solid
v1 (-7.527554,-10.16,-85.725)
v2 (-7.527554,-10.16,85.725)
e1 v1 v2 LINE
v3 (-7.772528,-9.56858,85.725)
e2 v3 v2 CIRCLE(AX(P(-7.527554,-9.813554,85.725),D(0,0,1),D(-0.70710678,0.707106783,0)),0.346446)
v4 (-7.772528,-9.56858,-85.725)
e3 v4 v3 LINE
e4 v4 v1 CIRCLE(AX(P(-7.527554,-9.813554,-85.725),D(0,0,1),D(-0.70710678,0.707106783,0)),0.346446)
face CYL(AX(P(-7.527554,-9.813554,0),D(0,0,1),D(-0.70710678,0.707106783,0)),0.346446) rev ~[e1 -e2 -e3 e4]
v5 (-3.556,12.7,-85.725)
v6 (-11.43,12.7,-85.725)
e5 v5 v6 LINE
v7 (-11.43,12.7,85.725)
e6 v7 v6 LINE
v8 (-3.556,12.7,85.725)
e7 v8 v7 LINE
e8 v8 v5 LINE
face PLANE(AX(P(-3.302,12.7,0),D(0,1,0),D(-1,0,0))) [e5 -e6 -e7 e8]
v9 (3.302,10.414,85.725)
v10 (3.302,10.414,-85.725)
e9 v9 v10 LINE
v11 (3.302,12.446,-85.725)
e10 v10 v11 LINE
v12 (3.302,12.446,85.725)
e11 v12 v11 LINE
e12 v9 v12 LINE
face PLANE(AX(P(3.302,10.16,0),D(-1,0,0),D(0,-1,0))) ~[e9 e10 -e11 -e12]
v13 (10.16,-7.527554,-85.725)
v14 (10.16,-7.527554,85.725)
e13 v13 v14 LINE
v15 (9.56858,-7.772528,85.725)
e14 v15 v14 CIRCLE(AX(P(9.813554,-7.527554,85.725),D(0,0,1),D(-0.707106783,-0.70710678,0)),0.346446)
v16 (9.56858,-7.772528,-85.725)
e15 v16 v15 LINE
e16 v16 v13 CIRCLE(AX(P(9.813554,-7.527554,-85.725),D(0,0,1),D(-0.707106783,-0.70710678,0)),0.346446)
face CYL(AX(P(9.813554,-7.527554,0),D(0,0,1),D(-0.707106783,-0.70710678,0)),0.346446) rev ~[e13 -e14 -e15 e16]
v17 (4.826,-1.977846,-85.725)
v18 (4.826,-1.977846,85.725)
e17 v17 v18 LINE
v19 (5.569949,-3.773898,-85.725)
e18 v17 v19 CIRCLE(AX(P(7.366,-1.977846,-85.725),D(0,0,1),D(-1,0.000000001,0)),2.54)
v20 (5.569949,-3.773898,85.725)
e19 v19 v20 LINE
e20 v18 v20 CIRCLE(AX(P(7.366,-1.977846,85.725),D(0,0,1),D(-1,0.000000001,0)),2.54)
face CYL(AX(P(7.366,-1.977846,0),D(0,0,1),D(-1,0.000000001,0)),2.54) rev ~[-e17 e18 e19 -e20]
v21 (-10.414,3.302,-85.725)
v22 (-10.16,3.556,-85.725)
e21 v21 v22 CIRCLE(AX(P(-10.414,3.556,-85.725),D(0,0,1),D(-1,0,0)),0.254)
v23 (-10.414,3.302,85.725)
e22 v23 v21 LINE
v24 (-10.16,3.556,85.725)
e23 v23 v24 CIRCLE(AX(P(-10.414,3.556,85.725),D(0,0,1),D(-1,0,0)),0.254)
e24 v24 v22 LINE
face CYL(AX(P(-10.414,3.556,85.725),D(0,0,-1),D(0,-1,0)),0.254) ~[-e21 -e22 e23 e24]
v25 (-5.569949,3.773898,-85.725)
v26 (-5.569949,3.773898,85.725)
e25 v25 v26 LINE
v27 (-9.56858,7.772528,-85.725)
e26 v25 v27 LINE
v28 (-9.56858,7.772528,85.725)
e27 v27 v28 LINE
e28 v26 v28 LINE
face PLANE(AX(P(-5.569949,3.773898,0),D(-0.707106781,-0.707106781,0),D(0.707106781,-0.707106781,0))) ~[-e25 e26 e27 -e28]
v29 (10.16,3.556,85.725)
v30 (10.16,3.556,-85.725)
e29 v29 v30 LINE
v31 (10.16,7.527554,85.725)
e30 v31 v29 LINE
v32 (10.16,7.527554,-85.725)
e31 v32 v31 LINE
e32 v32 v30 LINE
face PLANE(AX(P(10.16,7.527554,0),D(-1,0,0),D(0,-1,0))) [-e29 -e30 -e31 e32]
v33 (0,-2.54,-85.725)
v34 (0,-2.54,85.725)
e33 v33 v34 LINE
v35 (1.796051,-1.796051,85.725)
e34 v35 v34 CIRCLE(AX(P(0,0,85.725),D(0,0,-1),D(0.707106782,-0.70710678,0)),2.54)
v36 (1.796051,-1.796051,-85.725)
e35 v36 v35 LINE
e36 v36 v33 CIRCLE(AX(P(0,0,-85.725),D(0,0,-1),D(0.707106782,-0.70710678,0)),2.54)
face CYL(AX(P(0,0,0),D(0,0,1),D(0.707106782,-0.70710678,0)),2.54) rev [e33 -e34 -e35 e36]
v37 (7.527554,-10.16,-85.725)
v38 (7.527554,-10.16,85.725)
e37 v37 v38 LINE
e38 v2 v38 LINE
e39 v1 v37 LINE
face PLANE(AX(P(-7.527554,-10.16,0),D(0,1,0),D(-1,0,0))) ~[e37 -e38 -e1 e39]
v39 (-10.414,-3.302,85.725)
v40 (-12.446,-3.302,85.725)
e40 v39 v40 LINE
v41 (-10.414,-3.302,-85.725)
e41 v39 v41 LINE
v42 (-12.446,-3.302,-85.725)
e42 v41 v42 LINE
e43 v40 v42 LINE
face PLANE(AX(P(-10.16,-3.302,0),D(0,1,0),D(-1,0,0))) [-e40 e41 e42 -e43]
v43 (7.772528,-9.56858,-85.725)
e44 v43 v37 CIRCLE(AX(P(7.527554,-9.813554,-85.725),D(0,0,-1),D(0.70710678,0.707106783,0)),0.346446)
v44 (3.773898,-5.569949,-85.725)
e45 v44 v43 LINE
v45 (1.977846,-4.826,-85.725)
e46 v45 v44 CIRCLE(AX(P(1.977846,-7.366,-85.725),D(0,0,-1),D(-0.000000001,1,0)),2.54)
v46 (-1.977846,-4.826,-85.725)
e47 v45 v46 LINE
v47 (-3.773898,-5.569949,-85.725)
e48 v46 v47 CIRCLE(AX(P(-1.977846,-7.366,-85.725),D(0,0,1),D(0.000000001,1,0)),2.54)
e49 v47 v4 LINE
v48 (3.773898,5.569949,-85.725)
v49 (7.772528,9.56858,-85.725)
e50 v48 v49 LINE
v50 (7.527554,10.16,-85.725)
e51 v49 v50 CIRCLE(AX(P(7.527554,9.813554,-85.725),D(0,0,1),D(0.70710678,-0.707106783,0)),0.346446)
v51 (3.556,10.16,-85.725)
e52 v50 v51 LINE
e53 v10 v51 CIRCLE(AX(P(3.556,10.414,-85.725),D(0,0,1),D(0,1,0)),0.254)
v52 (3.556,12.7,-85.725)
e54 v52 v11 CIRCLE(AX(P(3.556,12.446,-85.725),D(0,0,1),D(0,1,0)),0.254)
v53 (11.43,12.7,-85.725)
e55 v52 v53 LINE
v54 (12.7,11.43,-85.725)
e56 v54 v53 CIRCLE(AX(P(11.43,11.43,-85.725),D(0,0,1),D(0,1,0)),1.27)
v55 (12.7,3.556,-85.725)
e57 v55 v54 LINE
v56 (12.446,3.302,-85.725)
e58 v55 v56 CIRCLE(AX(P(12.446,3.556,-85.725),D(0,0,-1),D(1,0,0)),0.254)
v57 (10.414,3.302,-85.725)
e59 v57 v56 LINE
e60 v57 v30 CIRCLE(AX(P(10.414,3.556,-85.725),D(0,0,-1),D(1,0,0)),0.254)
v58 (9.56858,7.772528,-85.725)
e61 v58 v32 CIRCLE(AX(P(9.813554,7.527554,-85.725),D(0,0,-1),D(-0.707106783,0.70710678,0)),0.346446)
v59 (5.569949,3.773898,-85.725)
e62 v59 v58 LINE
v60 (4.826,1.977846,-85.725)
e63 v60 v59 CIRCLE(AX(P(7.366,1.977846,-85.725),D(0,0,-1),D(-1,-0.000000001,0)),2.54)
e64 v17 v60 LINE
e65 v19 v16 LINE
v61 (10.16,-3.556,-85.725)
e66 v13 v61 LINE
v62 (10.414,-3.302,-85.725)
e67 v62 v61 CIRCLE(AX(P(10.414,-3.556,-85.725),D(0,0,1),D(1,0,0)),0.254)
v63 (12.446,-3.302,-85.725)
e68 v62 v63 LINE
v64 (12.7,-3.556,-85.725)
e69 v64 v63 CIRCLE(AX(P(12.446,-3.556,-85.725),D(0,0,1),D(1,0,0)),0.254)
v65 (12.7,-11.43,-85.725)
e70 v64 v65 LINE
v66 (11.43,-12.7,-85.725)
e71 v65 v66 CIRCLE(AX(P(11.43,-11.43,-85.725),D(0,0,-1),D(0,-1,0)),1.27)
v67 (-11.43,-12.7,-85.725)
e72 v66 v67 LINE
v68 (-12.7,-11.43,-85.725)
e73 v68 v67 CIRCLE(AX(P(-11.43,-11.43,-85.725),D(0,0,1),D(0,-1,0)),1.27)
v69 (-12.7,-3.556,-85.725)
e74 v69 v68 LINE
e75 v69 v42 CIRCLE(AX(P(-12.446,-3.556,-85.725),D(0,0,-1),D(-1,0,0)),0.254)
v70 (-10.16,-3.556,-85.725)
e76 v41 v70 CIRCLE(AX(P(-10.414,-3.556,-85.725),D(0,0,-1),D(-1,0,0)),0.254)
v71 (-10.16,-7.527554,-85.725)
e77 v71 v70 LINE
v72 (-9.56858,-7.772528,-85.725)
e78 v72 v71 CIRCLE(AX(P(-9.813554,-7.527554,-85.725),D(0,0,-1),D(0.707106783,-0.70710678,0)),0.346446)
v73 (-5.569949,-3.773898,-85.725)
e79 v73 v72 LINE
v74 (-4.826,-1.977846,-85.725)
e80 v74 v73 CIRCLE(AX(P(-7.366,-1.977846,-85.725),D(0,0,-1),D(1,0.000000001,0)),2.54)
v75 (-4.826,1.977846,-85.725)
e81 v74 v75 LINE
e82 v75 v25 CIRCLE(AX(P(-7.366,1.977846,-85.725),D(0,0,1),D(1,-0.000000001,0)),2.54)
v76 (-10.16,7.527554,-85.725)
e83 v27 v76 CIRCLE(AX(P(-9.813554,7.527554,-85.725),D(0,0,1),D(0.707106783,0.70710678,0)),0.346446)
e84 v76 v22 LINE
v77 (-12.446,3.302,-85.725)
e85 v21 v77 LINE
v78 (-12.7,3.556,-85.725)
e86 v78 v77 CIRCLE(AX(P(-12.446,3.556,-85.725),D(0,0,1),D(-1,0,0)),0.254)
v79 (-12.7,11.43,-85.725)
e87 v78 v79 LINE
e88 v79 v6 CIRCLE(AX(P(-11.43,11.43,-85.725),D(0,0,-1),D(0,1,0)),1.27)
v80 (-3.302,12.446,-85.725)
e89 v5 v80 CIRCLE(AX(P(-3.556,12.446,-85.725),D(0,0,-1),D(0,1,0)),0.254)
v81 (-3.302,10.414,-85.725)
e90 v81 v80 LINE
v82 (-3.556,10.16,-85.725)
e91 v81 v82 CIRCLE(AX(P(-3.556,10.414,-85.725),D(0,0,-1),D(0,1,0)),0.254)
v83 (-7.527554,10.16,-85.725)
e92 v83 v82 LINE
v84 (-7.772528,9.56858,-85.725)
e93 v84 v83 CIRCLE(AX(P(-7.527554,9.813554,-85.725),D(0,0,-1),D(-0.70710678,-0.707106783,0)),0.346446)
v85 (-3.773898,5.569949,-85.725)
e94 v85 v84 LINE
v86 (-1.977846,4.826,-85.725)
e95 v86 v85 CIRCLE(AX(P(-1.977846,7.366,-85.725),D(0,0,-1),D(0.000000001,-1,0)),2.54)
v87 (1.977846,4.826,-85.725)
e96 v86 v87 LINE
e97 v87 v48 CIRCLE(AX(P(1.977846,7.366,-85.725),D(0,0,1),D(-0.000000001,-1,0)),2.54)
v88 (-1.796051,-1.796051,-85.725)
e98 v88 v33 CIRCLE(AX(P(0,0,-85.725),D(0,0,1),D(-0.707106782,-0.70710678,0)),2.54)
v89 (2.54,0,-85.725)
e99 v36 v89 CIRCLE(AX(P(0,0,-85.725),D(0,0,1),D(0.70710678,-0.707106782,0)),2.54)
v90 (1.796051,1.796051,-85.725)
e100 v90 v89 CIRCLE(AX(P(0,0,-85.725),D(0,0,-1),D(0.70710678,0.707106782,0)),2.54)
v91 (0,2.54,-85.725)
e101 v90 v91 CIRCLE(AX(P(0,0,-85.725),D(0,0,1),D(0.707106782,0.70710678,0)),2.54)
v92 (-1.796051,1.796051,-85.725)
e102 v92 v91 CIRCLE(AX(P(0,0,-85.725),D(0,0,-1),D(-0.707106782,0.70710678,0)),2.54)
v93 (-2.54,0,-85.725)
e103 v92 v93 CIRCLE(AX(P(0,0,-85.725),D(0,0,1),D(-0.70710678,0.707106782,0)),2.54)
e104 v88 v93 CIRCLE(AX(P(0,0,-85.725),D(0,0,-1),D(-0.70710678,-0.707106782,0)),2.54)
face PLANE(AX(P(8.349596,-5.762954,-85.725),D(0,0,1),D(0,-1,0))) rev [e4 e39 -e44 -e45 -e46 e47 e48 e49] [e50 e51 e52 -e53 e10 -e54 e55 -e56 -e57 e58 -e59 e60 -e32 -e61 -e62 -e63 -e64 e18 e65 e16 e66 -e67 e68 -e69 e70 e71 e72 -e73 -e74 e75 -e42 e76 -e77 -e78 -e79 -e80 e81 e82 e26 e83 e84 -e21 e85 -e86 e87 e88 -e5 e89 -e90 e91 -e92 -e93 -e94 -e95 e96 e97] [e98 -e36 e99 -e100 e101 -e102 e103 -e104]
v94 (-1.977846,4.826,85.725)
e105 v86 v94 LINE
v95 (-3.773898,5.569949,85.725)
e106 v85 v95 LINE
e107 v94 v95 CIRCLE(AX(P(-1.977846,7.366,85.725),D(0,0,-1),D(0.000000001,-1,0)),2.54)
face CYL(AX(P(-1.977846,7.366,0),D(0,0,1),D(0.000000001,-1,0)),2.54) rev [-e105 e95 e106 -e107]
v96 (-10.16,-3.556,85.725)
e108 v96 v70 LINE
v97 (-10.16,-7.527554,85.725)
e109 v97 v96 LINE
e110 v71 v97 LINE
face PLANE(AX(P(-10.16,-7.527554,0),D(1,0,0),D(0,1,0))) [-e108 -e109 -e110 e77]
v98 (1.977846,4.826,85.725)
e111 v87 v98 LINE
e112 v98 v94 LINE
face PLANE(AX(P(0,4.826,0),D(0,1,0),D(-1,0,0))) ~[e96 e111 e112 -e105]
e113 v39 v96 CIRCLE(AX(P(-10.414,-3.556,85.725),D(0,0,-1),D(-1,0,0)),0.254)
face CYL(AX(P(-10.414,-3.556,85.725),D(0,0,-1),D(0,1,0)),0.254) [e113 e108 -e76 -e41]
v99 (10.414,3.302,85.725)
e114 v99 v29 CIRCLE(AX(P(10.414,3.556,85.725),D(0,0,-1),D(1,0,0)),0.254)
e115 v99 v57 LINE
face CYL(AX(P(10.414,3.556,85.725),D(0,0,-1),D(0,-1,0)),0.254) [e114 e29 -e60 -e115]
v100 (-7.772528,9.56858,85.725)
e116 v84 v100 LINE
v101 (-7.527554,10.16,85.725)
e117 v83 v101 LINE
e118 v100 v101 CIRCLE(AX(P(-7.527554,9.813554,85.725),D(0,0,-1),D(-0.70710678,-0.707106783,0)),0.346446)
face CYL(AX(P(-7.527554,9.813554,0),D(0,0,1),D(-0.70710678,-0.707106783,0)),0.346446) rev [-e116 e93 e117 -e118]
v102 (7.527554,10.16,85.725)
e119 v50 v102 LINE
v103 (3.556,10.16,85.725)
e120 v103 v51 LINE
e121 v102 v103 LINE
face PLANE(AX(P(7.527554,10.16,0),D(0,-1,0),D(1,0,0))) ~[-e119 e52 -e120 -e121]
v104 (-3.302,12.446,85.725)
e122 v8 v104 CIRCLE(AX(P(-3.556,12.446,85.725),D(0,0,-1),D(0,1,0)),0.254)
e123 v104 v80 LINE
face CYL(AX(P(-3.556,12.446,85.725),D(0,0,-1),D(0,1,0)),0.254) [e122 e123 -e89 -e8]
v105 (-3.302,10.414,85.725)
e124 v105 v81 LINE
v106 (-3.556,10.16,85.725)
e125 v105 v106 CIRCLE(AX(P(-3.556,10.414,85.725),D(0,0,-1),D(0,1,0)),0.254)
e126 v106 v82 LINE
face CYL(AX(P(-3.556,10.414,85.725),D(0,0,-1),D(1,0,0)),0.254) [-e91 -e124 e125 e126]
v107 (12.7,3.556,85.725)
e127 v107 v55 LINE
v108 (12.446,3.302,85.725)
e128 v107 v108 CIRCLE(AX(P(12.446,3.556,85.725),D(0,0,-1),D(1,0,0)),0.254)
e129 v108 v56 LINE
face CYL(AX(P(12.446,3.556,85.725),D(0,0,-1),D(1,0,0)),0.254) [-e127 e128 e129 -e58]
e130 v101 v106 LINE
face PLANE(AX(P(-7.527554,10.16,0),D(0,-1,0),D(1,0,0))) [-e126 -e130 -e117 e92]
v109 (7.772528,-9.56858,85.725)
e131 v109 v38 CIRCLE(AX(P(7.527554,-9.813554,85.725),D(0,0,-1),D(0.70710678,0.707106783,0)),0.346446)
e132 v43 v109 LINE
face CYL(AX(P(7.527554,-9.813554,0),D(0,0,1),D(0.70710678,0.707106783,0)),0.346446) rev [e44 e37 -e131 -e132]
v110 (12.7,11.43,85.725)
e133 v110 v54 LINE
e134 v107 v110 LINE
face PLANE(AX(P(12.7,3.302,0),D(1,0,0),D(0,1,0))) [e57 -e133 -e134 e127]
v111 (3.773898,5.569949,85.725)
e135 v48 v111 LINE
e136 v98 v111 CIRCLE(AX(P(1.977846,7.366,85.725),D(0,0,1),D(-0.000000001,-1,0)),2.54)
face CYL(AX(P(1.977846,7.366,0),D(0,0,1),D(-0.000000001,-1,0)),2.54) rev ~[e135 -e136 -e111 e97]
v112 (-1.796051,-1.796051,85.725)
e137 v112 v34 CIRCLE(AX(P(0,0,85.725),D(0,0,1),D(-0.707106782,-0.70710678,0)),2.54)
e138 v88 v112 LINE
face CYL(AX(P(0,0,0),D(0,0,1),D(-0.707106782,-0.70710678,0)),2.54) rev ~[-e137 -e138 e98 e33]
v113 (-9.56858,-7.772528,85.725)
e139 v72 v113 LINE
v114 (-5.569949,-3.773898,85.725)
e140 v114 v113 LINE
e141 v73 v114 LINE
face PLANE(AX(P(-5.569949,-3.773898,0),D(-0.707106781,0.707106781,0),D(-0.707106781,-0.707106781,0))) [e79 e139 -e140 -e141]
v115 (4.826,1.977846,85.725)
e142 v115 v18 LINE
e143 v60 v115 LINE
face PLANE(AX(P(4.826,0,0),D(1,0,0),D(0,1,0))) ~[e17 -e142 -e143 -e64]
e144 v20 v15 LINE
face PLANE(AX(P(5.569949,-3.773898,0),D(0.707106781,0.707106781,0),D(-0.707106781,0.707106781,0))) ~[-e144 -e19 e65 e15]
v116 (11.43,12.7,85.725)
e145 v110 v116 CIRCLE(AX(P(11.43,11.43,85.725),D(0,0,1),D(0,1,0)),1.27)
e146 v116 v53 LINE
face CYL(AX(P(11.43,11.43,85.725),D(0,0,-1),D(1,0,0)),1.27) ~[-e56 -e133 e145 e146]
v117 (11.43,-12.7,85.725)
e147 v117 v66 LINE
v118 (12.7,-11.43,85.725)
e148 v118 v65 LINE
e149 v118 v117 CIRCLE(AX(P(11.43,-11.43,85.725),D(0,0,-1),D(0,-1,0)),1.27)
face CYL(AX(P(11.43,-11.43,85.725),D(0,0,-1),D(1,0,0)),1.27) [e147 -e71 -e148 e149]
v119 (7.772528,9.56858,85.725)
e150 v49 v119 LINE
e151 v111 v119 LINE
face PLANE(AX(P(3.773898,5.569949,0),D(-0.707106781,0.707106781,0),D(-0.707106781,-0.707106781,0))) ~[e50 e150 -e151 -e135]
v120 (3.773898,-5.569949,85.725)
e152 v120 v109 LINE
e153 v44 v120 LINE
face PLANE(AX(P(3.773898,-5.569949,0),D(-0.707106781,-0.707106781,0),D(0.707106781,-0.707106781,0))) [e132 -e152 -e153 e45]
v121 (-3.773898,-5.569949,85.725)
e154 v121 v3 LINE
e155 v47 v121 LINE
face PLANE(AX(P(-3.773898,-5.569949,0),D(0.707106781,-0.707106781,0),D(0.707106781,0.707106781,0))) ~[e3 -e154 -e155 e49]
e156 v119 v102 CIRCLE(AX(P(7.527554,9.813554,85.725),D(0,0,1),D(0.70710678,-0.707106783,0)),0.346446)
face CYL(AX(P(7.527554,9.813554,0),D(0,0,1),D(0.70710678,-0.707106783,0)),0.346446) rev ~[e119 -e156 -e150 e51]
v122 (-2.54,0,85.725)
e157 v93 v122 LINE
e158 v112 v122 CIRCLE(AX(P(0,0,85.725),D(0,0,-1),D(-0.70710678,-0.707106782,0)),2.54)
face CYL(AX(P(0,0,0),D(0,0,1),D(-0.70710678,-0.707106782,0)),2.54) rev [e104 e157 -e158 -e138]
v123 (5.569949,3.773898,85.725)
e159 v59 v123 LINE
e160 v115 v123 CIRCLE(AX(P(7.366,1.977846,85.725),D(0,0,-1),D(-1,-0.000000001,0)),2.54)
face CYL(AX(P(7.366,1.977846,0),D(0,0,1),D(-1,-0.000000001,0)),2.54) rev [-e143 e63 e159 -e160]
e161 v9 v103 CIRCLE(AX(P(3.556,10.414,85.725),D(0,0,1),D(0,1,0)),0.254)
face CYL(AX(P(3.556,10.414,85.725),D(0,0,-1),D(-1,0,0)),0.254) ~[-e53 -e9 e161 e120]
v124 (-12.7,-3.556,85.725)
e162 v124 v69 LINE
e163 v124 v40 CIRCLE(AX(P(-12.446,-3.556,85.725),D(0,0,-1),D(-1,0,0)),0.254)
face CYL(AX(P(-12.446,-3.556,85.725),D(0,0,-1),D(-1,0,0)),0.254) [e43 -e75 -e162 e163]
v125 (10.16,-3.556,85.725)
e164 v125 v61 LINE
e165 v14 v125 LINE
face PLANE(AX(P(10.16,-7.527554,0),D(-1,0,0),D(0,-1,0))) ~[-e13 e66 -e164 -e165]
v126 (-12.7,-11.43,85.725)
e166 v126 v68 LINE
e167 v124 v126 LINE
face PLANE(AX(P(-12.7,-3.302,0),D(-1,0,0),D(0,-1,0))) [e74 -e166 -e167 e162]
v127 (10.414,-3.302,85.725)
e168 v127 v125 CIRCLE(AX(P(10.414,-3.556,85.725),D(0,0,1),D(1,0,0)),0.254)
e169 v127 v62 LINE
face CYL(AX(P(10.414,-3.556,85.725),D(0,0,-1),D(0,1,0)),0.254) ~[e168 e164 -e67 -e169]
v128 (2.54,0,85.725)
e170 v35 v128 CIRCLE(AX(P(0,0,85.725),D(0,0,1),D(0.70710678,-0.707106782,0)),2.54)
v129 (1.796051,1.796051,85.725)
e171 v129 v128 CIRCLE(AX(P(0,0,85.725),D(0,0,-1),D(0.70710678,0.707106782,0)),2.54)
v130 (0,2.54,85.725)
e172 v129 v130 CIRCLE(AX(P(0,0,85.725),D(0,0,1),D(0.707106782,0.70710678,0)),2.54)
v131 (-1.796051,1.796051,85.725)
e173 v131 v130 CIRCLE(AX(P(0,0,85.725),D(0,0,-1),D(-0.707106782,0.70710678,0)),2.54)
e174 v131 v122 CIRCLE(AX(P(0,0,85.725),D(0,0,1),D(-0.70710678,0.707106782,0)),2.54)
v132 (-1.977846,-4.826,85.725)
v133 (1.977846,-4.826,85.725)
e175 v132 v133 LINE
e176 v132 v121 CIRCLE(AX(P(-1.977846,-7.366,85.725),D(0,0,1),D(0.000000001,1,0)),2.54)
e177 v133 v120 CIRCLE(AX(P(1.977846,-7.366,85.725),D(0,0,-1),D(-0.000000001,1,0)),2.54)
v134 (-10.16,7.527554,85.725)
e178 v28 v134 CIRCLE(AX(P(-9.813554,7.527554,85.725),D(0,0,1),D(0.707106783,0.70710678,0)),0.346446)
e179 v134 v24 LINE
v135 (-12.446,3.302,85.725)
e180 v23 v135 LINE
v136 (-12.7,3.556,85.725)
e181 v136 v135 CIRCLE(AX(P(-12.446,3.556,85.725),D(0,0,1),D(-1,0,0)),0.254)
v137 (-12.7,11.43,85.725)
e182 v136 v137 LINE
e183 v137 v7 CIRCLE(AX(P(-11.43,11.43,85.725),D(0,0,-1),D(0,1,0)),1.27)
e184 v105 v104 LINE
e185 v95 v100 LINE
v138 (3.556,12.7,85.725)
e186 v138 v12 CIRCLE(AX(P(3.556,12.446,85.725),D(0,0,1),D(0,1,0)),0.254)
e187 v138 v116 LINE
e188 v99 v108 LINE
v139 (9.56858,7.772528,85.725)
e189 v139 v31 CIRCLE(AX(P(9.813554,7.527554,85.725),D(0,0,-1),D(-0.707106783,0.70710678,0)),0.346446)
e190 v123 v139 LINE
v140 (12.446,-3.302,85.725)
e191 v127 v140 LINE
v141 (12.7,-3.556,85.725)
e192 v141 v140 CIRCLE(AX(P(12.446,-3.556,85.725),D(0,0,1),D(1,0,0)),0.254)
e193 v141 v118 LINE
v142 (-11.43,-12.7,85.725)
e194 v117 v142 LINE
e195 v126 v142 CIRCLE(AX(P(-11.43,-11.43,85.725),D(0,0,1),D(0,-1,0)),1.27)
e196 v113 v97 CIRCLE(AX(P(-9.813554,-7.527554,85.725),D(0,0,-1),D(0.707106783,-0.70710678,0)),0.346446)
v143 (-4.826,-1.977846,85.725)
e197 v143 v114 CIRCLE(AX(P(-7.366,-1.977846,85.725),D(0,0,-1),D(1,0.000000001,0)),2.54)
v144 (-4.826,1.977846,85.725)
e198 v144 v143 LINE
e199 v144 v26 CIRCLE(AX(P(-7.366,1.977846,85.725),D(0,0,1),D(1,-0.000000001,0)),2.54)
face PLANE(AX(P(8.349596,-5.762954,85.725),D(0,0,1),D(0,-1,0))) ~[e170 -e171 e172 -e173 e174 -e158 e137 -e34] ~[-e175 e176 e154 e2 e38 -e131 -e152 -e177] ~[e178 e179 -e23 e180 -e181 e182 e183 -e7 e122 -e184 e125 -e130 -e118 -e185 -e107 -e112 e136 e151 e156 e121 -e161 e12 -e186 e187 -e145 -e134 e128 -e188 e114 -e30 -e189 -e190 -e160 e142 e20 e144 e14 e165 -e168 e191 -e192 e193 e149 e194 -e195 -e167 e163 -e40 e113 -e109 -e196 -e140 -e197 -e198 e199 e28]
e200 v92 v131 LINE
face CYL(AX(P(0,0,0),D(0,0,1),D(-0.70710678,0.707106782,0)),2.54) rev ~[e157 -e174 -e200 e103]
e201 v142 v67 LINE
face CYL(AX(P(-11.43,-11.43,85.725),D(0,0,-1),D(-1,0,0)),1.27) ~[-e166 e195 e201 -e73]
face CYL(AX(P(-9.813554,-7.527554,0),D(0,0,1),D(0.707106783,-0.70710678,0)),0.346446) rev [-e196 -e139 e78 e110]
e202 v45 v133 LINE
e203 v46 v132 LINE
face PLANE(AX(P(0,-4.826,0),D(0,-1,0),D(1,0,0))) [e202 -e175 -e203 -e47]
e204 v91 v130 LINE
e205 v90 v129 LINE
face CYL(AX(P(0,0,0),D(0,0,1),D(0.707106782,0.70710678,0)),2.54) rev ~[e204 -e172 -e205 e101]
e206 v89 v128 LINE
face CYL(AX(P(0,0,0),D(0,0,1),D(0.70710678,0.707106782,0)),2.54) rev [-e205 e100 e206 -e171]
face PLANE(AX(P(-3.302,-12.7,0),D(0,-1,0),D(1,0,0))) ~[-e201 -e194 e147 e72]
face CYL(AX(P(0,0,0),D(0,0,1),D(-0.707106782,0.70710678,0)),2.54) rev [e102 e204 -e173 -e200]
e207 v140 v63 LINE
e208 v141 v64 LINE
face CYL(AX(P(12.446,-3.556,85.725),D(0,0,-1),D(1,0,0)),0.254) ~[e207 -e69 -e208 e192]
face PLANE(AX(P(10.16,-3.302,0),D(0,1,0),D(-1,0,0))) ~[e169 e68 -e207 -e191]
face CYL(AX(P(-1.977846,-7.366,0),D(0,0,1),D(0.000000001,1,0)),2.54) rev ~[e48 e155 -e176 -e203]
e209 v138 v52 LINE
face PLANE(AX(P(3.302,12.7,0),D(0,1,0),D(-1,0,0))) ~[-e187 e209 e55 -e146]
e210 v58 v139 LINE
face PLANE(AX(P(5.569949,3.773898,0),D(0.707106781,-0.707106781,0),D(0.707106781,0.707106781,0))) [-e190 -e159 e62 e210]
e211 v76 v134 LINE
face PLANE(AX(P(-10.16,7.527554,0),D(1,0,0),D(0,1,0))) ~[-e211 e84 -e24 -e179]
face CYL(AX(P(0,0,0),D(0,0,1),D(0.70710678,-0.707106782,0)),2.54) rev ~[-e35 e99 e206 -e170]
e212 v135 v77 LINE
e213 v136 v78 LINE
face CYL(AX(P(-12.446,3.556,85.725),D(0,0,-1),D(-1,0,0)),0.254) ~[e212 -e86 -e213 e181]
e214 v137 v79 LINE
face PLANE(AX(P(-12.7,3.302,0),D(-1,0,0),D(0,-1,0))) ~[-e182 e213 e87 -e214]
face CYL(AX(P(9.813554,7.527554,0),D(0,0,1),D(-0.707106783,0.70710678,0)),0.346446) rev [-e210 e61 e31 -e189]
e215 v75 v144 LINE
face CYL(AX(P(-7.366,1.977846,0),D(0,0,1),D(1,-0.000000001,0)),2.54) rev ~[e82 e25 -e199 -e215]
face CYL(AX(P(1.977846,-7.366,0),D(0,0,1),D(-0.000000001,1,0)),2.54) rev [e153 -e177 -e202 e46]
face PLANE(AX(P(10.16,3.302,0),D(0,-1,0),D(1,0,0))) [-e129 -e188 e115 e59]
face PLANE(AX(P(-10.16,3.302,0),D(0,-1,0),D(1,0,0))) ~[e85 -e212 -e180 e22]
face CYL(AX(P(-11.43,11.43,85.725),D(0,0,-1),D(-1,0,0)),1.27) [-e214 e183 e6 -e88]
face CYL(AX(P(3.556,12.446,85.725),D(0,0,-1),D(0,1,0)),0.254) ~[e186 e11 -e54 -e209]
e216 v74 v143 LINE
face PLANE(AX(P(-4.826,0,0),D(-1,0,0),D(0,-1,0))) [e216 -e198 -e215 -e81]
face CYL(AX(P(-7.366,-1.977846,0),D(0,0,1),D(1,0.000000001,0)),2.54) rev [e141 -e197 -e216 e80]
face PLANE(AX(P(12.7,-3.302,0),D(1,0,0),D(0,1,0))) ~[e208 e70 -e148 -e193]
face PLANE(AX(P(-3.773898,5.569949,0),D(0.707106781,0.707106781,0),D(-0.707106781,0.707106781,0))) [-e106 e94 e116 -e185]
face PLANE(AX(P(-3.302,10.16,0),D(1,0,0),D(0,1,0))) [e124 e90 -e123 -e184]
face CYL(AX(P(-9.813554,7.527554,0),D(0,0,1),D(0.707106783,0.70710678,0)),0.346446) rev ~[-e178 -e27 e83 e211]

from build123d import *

# Parameters (mm, degrees)
BOSS_EXTRUDE1_DEPTH = 85.725
FILLET2_R           = 0.254
FILLET1_R           = 1.27
SKETCH5_W           = 7.112
SKETCH5_H           = 2.54
BOSS_EXTRUDE2_DEPTH = 171.45


with BuildPart() as part:
    # Sketch3 → Boss-Extrude1 (new body, symmetric)
    with BuildSketch(Plane.XY):
        with BuildLine():
            Line((-12.7, 12.7), (-1.796051224, 1.796051224))
            ThreePointArc((-1.796051224, 1.796051224), (-0.972015918, 2.346654013), (0, 2.54))
            Line((0, 2.54), (0, 4.826))
            Line((0, 4.826), (-1.977846327, 4.826))
            ThreePointArc((-1.977846327, 4.826), (-2.949862246, 5.019345987), (-3.773897552, 5.569948776))
            Line((-3.773897552, 5.569948776), (-7.772528286, 9.56857951))
            ThreePointArc((-7.772528286, 9.56857951), (-7.847628361, 9.946133082), (-7.527553898, 10.16))
            Line((-7.527553898, 10.16), (-3.302, 10.16))
            Line((-3.302, 10.16), (-3.302, 12.7))
            Line((-3.302, 12.7), (-12.7, 12.7))
        make_face()
    extrude(amount=BOSS_EXTRUDE1_DEPTH, both=True)

    # Fillet2
    fillet2_edges = [part.edges().sort_by_distance(p)[0] for p in [
        (-3.302, 12.7, 0),
        (-3.302, 10.16, 0),
    ]]
    fillet(fillet2_edges, radius=FILLET2_R)

    # Mirror1: part across plane


with BuildPart() as part_1:
    add(part.part)
    add(part.part.mirror(Plane(origin=(0, 0, 85.725), x_dir=(0, 0, 1), z_dir=(0.707106781, 0.707106781, 0))))

    # Fillet1
    fillet1_edges = [part_1.edges().sort_by_distance(p)[0] for p in [
        (-12.7, 12.7, 0),
    ]]
    fillet(fillet1_edges, radius=FILLET1_R)

    # Mirror2: part across plane


with BuildPart() as part_2:
    add(part_1.part)
    add(part_1.part.mirror(Plane(origin=(0, 0, 85.725), x_dir=(0, 0, 1), z_dir=(0, 1, 0))))

    # Mirror5: part across plane


with BuildPart() as part_3:
    add(part_2.part)
    add(part_2.part.mirror(Plane(origin=(0, 0, 85.725), x_dir=(0, 0, 1), z_dir=(-1, 0, 0))))

    # Sketch5 → Boss-Extrude2 (add, through all)
    with BuildSketch(Plane.XY.offset(85.725)):
        with Locations((0, -11.43)):
            Rectangle(SKETCH5_W, SKETCH5_H)
    extrude(amount=-BOSS_EXTRUDE2_DEPTH)


solid = part_3.part
